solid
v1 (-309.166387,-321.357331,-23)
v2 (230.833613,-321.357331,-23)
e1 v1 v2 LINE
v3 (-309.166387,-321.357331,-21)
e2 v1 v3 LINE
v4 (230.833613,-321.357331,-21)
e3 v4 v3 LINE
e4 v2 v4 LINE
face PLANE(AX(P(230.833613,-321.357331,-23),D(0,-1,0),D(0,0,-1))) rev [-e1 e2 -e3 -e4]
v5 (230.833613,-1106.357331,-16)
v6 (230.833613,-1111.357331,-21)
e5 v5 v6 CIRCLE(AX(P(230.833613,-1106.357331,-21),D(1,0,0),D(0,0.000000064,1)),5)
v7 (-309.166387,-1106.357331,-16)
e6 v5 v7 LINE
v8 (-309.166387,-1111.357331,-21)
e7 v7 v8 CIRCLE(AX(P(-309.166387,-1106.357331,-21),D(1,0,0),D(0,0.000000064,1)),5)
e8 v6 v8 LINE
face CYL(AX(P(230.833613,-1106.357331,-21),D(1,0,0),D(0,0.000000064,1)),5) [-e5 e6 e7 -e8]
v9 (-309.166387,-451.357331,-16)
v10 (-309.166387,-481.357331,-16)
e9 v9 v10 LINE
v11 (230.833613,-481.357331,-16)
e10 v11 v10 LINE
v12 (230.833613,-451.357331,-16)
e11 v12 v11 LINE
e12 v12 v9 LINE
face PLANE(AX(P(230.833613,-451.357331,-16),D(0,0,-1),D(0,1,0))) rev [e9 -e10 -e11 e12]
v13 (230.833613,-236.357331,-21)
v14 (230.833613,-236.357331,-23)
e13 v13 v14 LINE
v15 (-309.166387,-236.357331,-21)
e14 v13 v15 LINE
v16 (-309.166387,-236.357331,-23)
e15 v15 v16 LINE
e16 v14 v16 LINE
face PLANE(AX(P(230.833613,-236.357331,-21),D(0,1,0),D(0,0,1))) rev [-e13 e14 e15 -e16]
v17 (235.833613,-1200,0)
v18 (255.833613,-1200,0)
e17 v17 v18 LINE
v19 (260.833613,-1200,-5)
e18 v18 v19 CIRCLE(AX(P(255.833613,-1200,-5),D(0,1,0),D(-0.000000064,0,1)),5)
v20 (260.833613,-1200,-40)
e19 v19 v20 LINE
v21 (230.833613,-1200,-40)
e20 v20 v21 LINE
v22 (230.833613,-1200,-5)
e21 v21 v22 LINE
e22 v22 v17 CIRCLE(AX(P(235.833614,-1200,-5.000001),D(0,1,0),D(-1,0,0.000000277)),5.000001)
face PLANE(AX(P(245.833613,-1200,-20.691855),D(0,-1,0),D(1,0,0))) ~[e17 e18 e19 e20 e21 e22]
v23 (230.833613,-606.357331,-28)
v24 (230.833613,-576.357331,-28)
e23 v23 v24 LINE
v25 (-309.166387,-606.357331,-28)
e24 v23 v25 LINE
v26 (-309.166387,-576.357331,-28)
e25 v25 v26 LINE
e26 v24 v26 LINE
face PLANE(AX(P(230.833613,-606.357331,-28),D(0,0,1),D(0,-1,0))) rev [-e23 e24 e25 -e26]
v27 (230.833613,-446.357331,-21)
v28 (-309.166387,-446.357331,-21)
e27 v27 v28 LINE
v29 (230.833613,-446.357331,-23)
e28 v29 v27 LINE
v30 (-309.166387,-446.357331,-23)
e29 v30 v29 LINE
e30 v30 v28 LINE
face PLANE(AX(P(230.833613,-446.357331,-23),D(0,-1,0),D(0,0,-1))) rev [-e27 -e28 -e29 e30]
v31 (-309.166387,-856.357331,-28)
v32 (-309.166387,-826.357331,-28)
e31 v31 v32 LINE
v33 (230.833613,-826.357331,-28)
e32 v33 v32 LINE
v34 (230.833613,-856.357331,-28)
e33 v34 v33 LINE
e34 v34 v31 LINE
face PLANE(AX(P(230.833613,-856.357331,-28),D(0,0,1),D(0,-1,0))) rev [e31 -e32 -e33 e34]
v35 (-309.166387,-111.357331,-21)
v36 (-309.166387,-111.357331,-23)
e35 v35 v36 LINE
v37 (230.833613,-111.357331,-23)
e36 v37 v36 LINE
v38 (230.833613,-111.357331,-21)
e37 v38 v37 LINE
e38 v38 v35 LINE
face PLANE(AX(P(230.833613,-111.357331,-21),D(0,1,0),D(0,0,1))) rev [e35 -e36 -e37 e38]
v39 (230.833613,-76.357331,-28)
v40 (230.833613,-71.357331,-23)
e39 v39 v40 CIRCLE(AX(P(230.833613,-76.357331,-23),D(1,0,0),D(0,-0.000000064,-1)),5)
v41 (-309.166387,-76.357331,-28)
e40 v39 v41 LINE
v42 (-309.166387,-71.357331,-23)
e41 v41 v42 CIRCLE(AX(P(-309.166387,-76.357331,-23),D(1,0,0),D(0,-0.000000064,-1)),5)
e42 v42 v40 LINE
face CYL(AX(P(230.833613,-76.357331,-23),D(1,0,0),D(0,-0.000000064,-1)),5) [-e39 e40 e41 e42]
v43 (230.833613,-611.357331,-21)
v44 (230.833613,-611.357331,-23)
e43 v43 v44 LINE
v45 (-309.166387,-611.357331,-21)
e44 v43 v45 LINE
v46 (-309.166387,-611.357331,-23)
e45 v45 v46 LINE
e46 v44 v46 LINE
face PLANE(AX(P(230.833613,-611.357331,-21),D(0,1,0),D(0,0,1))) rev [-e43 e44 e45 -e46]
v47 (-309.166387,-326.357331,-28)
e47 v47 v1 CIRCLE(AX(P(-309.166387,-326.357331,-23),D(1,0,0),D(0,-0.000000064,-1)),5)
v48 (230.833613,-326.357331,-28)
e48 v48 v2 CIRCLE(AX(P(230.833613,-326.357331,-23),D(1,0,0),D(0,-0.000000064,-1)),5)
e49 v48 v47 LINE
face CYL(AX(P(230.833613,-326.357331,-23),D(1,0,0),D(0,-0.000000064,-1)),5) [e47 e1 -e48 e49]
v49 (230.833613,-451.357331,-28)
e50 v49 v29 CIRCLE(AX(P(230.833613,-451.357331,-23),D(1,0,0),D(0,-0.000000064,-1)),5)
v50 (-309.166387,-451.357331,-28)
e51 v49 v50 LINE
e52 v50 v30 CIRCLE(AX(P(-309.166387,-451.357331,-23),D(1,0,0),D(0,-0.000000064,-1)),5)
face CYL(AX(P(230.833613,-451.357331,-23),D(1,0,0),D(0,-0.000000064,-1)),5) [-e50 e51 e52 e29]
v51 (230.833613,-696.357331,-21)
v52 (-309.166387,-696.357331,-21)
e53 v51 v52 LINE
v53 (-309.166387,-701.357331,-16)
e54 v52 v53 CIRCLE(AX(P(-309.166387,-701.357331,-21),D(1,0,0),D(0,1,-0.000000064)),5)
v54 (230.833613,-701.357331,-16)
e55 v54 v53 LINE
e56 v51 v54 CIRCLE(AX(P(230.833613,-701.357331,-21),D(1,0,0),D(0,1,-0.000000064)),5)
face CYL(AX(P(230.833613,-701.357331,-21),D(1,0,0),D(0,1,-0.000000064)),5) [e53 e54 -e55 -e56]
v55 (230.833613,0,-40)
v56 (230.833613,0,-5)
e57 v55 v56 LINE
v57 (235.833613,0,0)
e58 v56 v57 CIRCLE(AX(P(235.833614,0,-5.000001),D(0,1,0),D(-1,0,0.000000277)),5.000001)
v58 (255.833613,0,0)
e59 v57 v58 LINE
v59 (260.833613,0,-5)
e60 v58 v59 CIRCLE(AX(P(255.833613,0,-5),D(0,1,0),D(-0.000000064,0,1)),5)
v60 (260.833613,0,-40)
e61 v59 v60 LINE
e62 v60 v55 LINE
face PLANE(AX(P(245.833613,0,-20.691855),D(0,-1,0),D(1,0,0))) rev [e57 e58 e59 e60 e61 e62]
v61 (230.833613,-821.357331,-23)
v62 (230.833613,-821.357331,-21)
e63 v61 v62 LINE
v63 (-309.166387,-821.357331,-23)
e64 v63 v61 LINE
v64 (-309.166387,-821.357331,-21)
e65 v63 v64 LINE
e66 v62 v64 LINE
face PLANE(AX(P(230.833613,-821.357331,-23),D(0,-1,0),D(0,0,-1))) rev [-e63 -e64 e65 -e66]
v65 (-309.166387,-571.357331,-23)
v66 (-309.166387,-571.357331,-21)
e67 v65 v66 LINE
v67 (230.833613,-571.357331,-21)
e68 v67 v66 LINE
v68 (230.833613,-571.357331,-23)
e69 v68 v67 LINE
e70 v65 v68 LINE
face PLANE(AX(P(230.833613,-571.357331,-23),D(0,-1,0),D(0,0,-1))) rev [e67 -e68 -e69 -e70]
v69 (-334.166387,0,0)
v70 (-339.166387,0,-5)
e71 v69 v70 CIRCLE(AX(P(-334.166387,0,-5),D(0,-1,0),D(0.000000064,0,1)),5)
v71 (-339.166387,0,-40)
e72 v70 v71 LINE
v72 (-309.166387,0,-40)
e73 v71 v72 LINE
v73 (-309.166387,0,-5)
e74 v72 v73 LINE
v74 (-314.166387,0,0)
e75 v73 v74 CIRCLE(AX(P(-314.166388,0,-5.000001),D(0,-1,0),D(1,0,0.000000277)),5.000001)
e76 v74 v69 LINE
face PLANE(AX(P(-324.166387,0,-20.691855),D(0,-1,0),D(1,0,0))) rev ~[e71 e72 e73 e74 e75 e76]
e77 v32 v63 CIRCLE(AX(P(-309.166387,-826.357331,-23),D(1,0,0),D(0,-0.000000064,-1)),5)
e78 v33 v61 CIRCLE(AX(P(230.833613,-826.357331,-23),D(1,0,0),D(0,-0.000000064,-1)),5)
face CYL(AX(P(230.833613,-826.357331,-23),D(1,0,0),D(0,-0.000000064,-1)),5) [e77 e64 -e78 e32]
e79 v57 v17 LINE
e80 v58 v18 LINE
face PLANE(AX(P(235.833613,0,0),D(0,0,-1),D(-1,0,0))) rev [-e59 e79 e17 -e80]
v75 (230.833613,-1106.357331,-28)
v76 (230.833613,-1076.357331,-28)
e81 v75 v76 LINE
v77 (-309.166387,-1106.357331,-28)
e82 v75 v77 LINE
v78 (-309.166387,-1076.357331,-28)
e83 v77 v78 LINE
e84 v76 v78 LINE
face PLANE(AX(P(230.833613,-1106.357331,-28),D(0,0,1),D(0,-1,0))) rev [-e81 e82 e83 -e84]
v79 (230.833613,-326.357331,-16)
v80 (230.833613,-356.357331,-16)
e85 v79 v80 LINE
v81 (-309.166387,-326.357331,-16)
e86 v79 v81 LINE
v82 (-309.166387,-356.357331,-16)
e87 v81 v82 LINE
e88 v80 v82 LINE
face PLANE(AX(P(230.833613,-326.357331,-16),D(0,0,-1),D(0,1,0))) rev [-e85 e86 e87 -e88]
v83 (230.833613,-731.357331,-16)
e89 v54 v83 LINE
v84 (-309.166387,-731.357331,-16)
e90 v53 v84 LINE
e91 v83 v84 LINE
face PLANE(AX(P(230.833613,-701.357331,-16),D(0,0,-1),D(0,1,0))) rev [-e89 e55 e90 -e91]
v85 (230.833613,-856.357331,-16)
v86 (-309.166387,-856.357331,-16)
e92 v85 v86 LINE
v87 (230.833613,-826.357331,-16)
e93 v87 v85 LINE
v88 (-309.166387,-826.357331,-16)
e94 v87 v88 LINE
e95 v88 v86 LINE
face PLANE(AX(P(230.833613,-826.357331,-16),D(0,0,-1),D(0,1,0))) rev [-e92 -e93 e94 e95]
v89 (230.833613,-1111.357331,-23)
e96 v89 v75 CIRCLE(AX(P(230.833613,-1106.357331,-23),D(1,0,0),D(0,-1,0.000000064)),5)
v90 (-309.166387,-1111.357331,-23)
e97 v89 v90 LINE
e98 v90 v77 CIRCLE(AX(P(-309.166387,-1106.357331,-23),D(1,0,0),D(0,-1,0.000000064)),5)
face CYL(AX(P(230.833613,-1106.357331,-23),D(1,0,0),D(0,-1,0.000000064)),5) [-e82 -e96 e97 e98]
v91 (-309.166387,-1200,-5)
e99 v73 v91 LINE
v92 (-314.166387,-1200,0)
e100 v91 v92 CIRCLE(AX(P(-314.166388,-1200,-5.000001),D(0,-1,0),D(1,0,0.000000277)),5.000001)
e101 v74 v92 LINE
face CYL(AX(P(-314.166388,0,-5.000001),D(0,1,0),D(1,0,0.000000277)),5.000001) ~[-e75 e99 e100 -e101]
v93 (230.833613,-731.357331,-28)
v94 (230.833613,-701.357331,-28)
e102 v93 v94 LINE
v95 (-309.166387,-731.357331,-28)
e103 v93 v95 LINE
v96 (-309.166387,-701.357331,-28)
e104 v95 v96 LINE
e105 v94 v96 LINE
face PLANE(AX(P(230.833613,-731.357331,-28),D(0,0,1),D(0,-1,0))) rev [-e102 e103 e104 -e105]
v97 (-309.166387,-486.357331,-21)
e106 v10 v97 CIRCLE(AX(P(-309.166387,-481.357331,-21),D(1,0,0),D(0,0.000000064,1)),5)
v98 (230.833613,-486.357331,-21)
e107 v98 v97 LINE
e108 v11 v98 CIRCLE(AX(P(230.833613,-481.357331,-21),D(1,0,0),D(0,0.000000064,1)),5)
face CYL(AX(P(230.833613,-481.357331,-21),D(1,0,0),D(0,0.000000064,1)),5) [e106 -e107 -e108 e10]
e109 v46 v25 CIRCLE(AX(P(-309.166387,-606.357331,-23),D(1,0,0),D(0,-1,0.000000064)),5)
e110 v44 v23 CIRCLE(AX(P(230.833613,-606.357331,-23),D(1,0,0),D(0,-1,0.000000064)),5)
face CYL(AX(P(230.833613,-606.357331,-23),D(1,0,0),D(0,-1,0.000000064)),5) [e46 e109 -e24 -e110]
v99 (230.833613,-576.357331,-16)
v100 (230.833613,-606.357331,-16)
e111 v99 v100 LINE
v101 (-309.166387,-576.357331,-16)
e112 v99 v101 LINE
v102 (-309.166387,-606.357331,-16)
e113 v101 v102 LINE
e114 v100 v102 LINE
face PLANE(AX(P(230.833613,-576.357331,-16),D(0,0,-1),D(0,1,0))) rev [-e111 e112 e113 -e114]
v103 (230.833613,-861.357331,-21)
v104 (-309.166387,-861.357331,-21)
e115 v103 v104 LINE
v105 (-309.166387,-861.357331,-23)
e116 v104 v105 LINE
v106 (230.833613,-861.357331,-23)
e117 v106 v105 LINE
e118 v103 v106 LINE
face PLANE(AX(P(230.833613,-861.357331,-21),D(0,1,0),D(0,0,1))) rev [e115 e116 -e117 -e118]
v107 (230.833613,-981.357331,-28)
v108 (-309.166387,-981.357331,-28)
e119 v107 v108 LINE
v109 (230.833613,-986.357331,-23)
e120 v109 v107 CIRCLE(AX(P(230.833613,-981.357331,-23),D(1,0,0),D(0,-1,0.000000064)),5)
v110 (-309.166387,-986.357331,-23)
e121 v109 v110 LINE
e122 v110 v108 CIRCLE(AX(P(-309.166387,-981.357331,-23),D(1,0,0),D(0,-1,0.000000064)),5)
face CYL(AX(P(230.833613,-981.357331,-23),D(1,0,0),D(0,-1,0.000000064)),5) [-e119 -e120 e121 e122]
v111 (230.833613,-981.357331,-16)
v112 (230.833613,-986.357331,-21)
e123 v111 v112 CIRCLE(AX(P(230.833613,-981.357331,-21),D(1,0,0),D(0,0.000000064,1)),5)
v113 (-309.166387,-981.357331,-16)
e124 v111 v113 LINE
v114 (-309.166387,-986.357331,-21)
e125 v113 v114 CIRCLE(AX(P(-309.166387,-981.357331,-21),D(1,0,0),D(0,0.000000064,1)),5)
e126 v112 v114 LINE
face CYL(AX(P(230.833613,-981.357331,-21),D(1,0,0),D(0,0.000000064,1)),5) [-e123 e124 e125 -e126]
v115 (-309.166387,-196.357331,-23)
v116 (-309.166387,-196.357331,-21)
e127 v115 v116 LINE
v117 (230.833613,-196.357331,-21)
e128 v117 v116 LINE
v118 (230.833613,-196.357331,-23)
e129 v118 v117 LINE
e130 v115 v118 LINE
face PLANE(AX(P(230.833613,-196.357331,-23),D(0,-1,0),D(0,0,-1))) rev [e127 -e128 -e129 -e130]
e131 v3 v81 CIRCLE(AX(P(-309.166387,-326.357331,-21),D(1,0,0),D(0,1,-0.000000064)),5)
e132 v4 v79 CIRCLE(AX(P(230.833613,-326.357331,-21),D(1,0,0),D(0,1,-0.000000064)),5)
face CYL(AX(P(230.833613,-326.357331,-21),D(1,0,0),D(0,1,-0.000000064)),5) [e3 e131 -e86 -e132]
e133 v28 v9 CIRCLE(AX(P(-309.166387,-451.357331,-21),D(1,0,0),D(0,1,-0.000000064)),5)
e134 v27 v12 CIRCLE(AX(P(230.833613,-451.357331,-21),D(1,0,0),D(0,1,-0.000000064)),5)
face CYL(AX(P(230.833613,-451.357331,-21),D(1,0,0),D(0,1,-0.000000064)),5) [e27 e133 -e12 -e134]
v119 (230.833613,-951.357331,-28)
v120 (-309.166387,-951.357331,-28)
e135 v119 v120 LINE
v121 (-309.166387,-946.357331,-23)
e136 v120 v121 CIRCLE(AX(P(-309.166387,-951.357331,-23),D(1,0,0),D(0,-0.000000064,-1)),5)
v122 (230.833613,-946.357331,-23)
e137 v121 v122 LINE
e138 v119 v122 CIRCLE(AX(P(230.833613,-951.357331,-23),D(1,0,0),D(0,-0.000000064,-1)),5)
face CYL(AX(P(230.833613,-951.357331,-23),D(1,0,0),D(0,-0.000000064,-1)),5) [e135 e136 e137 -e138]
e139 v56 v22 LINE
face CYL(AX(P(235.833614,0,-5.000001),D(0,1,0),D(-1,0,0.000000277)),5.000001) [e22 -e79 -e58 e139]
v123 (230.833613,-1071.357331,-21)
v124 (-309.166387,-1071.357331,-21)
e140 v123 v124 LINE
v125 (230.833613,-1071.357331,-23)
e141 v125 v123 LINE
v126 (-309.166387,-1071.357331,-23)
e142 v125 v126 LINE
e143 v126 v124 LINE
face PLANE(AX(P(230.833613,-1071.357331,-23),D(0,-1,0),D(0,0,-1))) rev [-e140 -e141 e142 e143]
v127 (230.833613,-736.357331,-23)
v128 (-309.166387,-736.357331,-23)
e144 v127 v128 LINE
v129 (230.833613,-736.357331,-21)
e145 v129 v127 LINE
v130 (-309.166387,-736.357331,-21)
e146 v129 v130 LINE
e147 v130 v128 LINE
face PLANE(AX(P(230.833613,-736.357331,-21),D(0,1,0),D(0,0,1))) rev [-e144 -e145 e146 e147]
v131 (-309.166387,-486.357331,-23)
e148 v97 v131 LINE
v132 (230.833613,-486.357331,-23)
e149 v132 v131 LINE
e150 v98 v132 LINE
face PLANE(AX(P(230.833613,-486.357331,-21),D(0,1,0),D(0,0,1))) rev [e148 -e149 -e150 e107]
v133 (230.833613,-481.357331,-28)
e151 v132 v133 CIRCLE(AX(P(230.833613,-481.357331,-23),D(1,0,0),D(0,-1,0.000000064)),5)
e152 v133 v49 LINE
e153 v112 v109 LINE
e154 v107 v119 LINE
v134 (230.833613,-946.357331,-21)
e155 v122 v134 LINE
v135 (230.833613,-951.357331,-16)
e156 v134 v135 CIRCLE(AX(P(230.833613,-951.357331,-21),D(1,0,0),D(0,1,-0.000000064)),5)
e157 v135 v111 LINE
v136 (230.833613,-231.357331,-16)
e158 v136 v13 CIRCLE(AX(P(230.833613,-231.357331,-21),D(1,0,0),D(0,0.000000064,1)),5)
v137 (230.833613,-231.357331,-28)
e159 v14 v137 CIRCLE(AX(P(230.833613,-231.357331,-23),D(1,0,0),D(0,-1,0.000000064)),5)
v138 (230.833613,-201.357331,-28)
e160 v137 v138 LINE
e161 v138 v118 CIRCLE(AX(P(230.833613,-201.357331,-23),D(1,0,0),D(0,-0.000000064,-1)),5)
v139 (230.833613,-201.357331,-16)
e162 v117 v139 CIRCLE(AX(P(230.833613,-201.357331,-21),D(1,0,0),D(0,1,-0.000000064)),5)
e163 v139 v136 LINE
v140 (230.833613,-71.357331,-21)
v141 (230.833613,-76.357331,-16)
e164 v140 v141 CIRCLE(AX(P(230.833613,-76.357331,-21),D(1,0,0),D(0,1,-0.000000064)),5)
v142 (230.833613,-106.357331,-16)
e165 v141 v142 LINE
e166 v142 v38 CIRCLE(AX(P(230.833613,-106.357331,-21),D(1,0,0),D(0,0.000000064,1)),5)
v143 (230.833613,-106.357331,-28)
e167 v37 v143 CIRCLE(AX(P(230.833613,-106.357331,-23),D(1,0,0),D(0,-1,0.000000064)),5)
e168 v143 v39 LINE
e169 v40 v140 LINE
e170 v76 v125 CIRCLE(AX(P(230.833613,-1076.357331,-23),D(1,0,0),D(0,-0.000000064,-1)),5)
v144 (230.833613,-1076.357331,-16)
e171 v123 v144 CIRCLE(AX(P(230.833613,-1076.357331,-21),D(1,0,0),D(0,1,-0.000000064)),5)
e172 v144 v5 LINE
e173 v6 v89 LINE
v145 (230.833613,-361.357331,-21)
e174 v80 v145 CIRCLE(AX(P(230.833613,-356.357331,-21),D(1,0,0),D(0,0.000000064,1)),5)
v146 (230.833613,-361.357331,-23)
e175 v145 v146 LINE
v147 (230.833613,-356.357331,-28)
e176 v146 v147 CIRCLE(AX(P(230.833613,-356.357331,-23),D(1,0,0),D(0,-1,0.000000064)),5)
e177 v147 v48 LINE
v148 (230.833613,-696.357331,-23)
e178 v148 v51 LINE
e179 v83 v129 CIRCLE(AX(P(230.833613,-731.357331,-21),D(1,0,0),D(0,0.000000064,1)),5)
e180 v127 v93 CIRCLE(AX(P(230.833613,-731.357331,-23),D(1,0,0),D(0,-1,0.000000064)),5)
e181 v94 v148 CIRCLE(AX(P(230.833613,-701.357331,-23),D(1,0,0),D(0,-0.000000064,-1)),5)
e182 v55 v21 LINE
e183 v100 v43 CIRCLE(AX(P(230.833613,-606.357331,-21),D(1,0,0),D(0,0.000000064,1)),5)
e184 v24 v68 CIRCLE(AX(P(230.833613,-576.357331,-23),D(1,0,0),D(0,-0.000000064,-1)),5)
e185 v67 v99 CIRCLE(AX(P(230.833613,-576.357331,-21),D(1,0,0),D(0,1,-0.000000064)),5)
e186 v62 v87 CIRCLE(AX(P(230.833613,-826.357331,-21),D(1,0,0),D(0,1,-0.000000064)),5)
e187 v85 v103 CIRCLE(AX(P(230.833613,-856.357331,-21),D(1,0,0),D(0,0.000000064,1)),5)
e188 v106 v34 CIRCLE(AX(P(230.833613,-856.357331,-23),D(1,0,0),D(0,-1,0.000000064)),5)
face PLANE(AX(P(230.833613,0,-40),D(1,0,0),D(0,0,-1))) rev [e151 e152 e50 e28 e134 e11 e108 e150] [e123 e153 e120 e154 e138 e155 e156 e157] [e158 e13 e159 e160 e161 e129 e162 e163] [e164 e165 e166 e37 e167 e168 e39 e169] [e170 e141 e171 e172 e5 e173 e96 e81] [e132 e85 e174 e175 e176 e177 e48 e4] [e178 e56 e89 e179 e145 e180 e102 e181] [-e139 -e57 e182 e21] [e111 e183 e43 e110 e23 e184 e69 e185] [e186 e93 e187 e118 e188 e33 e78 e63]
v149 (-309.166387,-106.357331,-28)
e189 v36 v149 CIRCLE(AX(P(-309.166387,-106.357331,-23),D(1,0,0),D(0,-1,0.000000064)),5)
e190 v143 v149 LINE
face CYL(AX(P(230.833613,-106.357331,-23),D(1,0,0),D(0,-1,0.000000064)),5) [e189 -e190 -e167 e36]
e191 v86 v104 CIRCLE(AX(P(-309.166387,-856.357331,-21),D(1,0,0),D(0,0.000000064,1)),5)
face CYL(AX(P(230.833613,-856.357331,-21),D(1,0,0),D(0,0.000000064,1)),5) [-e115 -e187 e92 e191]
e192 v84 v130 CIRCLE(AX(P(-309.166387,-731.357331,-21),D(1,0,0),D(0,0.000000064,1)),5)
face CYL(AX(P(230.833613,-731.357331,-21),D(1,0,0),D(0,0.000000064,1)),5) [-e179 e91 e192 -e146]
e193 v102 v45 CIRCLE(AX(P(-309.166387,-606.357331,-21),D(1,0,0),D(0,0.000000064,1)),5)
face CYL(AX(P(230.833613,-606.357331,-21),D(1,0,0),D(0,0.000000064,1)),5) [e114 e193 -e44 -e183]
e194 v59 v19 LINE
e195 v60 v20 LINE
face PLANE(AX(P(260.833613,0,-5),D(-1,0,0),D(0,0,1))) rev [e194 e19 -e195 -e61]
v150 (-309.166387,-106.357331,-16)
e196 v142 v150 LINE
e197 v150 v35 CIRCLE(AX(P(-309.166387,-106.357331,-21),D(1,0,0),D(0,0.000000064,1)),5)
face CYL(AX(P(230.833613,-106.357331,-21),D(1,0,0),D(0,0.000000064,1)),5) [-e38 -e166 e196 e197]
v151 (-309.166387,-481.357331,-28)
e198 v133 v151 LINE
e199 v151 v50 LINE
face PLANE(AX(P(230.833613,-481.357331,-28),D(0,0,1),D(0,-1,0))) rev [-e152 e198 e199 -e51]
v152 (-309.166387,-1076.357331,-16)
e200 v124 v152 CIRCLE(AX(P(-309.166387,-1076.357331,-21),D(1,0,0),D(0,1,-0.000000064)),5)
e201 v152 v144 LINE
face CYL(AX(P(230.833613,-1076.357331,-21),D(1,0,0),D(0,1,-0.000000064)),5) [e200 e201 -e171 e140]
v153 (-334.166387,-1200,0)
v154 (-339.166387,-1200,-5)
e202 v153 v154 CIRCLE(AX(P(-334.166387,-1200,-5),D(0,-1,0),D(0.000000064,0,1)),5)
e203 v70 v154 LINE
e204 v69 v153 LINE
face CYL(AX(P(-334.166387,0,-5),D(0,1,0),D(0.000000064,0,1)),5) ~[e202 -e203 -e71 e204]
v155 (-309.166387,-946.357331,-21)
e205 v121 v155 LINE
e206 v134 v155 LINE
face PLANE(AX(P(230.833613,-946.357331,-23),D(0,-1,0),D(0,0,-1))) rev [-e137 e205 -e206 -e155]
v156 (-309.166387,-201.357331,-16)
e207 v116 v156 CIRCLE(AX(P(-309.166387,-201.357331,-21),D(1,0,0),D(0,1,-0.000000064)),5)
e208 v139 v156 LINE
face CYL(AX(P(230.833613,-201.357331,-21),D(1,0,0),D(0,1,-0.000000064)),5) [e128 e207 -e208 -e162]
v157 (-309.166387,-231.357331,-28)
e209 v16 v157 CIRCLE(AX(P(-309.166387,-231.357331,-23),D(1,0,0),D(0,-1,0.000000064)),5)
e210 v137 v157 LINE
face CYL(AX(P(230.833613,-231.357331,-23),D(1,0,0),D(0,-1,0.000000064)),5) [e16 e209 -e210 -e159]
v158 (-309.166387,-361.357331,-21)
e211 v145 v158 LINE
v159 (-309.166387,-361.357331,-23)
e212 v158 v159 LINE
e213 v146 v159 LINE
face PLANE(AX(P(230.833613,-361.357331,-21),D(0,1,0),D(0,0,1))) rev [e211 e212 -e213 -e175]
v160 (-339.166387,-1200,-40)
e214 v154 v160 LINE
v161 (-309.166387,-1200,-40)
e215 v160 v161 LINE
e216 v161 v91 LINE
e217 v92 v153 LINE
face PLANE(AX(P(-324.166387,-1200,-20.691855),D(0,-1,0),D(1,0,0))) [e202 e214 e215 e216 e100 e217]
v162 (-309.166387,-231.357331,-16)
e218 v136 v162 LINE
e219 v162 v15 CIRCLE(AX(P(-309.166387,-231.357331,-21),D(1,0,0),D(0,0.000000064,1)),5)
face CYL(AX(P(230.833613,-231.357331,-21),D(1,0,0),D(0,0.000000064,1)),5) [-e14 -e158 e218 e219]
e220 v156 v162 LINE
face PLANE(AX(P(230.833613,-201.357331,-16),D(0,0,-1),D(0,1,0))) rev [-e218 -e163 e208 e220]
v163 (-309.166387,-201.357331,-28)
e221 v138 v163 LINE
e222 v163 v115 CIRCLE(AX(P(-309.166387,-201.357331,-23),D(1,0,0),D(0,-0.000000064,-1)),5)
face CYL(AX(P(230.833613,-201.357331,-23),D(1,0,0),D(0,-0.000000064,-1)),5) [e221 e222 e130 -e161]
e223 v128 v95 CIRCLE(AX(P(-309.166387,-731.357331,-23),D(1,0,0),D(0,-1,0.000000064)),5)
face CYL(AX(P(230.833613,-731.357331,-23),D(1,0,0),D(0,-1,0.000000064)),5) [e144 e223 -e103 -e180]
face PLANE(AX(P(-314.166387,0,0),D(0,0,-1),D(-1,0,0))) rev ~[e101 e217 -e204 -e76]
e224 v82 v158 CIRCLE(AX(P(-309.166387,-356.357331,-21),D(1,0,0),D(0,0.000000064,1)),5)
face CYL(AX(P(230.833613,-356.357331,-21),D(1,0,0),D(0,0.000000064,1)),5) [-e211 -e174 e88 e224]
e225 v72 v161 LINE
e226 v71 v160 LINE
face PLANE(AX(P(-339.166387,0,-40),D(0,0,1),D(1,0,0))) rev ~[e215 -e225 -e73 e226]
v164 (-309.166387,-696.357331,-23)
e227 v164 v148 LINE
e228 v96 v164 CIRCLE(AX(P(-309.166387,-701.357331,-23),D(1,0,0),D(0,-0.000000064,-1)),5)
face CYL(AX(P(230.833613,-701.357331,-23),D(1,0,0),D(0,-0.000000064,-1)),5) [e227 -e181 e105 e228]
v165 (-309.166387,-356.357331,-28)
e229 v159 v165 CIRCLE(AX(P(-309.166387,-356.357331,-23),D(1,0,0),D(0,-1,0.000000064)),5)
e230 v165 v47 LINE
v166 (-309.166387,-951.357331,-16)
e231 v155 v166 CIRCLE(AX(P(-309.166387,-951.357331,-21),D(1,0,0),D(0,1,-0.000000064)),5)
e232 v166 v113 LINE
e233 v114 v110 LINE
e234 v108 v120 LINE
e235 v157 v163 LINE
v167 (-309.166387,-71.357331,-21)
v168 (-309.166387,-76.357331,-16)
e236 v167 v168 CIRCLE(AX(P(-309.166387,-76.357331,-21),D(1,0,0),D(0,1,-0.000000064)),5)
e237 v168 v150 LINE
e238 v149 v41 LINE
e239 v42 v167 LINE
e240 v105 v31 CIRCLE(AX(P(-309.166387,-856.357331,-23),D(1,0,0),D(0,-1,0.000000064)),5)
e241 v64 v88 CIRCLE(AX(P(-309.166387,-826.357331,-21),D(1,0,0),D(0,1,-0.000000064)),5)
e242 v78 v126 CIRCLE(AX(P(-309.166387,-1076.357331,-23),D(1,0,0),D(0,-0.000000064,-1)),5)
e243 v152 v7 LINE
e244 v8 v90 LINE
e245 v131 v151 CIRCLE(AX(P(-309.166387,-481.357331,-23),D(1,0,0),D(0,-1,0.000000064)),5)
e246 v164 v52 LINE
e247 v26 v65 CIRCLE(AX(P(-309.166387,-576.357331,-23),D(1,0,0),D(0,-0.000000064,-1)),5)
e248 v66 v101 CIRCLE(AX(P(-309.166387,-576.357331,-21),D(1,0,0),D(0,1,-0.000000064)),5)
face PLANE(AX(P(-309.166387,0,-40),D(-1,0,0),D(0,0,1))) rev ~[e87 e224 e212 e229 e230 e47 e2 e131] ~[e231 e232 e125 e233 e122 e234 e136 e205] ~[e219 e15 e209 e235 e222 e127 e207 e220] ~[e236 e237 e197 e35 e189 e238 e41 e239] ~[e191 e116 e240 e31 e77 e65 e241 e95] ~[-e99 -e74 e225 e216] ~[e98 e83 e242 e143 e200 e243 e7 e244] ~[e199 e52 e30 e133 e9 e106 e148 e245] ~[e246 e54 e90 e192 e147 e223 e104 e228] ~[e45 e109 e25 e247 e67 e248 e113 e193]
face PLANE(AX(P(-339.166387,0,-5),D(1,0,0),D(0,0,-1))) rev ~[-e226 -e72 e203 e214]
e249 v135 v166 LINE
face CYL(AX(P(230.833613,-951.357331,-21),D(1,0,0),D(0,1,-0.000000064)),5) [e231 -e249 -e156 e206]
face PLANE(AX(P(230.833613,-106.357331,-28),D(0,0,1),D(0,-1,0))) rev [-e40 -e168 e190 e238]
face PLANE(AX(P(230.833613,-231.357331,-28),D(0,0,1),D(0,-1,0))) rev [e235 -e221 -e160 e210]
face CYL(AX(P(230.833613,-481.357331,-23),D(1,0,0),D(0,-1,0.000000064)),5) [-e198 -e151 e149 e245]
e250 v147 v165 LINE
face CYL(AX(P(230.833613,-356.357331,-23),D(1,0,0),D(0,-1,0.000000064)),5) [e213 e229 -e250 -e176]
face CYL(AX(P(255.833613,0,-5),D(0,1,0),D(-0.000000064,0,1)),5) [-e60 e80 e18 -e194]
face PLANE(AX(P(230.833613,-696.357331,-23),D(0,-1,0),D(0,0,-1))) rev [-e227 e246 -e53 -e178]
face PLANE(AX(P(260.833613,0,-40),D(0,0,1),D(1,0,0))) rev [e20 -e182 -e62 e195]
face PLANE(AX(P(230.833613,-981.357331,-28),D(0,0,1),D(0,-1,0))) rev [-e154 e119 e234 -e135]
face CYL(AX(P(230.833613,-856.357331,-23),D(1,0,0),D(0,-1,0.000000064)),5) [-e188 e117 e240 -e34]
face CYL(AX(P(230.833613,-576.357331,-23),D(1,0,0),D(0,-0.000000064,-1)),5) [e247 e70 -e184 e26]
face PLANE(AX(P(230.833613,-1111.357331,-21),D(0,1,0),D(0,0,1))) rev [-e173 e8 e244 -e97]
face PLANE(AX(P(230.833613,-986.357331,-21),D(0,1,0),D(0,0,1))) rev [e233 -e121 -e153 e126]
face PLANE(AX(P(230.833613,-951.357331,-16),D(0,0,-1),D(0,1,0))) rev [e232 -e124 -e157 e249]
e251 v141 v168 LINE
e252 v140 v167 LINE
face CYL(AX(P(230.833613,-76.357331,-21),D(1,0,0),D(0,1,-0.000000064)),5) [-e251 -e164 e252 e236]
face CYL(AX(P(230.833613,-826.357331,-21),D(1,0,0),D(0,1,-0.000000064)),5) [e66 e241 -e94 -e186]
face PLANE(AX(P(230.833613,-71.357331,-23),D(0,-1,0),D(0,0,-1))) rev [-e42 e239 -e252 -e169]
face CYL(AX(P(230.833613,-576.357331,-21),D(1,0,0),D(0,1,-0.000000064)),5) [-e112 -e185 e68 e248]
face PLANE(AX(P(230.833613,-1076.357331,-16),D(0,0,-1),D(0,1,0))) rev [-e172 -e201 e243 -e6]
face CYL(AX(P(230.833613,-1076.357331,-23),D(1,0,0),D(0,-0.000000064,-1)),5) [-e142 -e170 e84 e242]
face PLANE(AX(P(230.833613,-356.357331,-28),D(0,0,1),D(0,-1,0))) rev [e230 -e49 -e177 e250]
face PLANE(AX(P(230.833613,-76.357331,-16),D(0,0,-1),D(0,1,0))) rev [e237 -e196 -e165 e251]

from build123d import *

# Parameters (mm, degrees)
F1_DEPTH = 1200
F3_DEPTH = 270


with BuildPart() as f1:
    # F0 (on Front) → F1 (new body)
    with BuildSketch(Plane.XZ):
        with BuildLine():
            Line((-314.166387, 0), (-334.166387, 0))
            ThreePointArc((-334.166387, 0), (-337.701921, -1.464466), (-339.166387, -5))
            Line((-339.166387, -5), (-339.166387, -40))
            Line((-339.166387, -40), (-309.166387, -40))
            Line((-309.166387, -40), (-309.166387, -5))
            ThreePointArc((-309.166387, -5), (-310.630854, -1.464466), (-314.166387, 0))
        make_face()
    extrude(amount=F1_DEPTH)

    # F2 (on face) → F3 (join)
    with BuildSketch(Plane.YZ.offset(-309.166387)):
        with BuildLine():
            Line((-1076.357331, -16), (-1106.357331, -16))
            ThreePointArc((-1106.357331, -16), (-1109.892865, -17.464466), (-1111.357331, -21))
            Line((-1111.357331, -21), (-1111.357331, -23))
            ThreePointArc((-1111.357331, -23), (-1109.892865, -26.535534), (-1106.357331, -28))
            Line((-1106.357331, -28), (-1076.357331, -28))
            ThreePointArc((-1076.357331, -28), (-1072.821797, -26.535534), (-1071.357331, -23))
            Line((-1071.357331, -23), (-1071.357331, -21))
            ThreePointArc((-1071.357331, -21), (-1072.821797, -17.464466), (-1076.357331, -16))
        make_face()
        with BuildLine():
            Line((-946.357331, -23), (-946.357331, -21))
            ThreePointArc((-946.357331, -21), (-947.821797, -17.464466), (-951.357331, -16))
            Line((-951.357331, -16), (-981.357331, -16))
            ThreePointArc((-981.357331, -16), (-984.892865, -17.464466), (-986.357331, -21))
            Line((-986.357331, -21), (-986.357331, -23))
            ThreePointArc((-986.357331, -23), (-984.892865, -26.535534), (-981.357331, -28))
            Line((-981.357331, -28), (-951.357331, -28))
            ThreePointArc((-951.357331, -28), (-947.821797, -26.535534), (-946.357331, -23))
        make_face()
        with BuildLine():
            Line((-821.357331, -23), (-821.357331, -21))
            ThreePointArc((-821.357331, -21), (-822.821797, -17.464466), (-826.357331, -16))
            Line((-826.357331, -16), (-856.357331, -16))
            ThreePointArc((-856.357331, -16), (-859.892865, -17.464466), (-861.357331, -21))
            Line((-861.357331, -21), (-861.357331, -23))
            ThreePointArc((-861.357331, -23), (-859.892865, -26.535534), (-856.357331, -28))
            Line((-856.357331, -28), (-826.357331, -28))
            ThreePointArc((-826.357331, -28), (-822.821797, -26.535534), (-821.357331, -23))
        make_face()
        with BuildLine():
            Line((-696.357331, -23), (-696.357331, -21))
            ThreePointArc((-696.357331, -21), (-697.821797, -17.464466), (-701.357331, -16))
            Line((-701.357331, -16), (-731.357331, -16))
            ThreePointArc((-731.357331, -16), (-734.892865, -17.464466), (-736.357331, -21))
            Line((-736.357331, -21), (-736.357331, -23))
            ThreePointArc((-736.357331, -23), (-734.892865, -26.535534), (-731.357331, -28))
            Line((-731.357331, -28), (-701.357331, -28))
            ThreePointArc((-701.357331, -28), (-697.821797, -26.535534), (-696.357331, -23))
        make_face()
        with BuildLine():
            Line((-571.357331, -23), (-571.357331, -21))
            ThreePointArc((-571.357331, -21), (-572.821797, -17.464466), (-576.357331, -16))
            Line((-576.357331, -16), (-606.357331, -16))
            ThreePointArc((-606.357331, -16), (-609.892865, -17.464466), (-611.357331, -21))
            Line((-611.357331, -21), (-611.357331, -23))
            ThreePointArc((-611.357331, -23), (-609.892865, -26.535534), (-606.357331, -28))
            Line((-606.357331, -28), (-576.357331, -28))
            ThreePointArc((-576.357331, -28), (-572.821797, -26.535534), (-571.357331, -23))
        make_face()
        with BuildLine():
            Line((-446.357331, -23), (-446.357331, -21))
            ThreePointArc((-446.357331, -21), (-447.821797, -17.464466), (-451.357331, -16))
            Line((-451.357331, -16), (-481.357331, -16))
            ThreePointArc((-481.357331, -16), (-484.892865, -17.464466), (-486.357331, -21))
            Line((-486.357331, -21), (-486.357331, -23))
            ThreePointArc((-486.357331, -23), (-484.892865, -26.535534), (-481.357331, -28))
            Line((-481.357331, -28), (-451.357331, -28))
            ThreePointArc((-451.357331, -28), (-447.821797, -26.535534), (-446.357331, -23))
        make_face()
        with BuildLine():
            Line((-321.357331, -23), (-321.357331, -21))
            ThreePointArc((-321.357331, -21), (-322.821797, -17.464466), (-326.357331, -16))
            Line((-326.357331, -16), (-356.357331, -16))
            ThreePointArc((-356.357331, -16), (-359.892865, -17.464466), (-361.357331, -21))
            Line((-361.357331, -21), (-361.357331, -23))
            ThreePointArc((-361.357331, -23), (-359.892865, -26.535534), (-356.357331, -28))
            Line((-356.357331, -28), (-326.357331, -28))
            ThreePointArc((-326.357331, -28), (-322.821797, -26.535534), (-321.357331, -23))
        make_face()
        with BuildLine():
            Line((-196.357331, -23), (-196.357331, -21))
            ThreePointArc((-196.357331, -21), (-197.821797, -17.464466), (-201.357331, -16))
            Line((-201.357331, -16), (-231.357331, -16))
            ThreePointArc((-231.357331, -16), (-234.892865, -17.464466), (-236.357331, -21))
            Line((-236.357331, -21), (-236.357331, -23))
            ThreePointArc((-236.357331, -23), (-234.892865, -26.535534), (-231.357331, -28))
            Line((-231.357331, -28), (-201.357331, -28))
            ThreePointArc((-201.357331, -28), (-197.821797, -26.535534), (-196.357331, -23))
        make_face()
        with BuildLine():
            Line((-71.357331, -23), (-71.357331, -21))
            ThreePointArc((-71.357331, -21), (-72.821797, -17.464466), (-76.357331, -16))
            Line((-76.357331, -16), (-106.357331, -16))
            ThreePointArc((-106.357331, -16), (-109.892865, -17.464466), (-111.357331, -21))
            Line((-111.357331, -21), (-111.357331, -23))
            ThreePointArc((-111.357331, -23), (-109.892865, -26.535534), (-106.357331, -28))
            Line((-106.357331, -28), (-76.357331, -28))
            ThreePointArc((-76.357331, -28), (-72.821797, -26.535534), (-71.357331, -23))
        make_face()
    extrude(amount=F3_DEPTH)

    # F4: F1 across face


with BuildPart() as f1_1:
    add(f1.part)
    add(f1.part.mirror(Plane(origin=(-39.166387, -841.357331, -22), x_dir=(0, 1, 0), z_dir=(1, 0, 0))))


solid = f1_1.part
